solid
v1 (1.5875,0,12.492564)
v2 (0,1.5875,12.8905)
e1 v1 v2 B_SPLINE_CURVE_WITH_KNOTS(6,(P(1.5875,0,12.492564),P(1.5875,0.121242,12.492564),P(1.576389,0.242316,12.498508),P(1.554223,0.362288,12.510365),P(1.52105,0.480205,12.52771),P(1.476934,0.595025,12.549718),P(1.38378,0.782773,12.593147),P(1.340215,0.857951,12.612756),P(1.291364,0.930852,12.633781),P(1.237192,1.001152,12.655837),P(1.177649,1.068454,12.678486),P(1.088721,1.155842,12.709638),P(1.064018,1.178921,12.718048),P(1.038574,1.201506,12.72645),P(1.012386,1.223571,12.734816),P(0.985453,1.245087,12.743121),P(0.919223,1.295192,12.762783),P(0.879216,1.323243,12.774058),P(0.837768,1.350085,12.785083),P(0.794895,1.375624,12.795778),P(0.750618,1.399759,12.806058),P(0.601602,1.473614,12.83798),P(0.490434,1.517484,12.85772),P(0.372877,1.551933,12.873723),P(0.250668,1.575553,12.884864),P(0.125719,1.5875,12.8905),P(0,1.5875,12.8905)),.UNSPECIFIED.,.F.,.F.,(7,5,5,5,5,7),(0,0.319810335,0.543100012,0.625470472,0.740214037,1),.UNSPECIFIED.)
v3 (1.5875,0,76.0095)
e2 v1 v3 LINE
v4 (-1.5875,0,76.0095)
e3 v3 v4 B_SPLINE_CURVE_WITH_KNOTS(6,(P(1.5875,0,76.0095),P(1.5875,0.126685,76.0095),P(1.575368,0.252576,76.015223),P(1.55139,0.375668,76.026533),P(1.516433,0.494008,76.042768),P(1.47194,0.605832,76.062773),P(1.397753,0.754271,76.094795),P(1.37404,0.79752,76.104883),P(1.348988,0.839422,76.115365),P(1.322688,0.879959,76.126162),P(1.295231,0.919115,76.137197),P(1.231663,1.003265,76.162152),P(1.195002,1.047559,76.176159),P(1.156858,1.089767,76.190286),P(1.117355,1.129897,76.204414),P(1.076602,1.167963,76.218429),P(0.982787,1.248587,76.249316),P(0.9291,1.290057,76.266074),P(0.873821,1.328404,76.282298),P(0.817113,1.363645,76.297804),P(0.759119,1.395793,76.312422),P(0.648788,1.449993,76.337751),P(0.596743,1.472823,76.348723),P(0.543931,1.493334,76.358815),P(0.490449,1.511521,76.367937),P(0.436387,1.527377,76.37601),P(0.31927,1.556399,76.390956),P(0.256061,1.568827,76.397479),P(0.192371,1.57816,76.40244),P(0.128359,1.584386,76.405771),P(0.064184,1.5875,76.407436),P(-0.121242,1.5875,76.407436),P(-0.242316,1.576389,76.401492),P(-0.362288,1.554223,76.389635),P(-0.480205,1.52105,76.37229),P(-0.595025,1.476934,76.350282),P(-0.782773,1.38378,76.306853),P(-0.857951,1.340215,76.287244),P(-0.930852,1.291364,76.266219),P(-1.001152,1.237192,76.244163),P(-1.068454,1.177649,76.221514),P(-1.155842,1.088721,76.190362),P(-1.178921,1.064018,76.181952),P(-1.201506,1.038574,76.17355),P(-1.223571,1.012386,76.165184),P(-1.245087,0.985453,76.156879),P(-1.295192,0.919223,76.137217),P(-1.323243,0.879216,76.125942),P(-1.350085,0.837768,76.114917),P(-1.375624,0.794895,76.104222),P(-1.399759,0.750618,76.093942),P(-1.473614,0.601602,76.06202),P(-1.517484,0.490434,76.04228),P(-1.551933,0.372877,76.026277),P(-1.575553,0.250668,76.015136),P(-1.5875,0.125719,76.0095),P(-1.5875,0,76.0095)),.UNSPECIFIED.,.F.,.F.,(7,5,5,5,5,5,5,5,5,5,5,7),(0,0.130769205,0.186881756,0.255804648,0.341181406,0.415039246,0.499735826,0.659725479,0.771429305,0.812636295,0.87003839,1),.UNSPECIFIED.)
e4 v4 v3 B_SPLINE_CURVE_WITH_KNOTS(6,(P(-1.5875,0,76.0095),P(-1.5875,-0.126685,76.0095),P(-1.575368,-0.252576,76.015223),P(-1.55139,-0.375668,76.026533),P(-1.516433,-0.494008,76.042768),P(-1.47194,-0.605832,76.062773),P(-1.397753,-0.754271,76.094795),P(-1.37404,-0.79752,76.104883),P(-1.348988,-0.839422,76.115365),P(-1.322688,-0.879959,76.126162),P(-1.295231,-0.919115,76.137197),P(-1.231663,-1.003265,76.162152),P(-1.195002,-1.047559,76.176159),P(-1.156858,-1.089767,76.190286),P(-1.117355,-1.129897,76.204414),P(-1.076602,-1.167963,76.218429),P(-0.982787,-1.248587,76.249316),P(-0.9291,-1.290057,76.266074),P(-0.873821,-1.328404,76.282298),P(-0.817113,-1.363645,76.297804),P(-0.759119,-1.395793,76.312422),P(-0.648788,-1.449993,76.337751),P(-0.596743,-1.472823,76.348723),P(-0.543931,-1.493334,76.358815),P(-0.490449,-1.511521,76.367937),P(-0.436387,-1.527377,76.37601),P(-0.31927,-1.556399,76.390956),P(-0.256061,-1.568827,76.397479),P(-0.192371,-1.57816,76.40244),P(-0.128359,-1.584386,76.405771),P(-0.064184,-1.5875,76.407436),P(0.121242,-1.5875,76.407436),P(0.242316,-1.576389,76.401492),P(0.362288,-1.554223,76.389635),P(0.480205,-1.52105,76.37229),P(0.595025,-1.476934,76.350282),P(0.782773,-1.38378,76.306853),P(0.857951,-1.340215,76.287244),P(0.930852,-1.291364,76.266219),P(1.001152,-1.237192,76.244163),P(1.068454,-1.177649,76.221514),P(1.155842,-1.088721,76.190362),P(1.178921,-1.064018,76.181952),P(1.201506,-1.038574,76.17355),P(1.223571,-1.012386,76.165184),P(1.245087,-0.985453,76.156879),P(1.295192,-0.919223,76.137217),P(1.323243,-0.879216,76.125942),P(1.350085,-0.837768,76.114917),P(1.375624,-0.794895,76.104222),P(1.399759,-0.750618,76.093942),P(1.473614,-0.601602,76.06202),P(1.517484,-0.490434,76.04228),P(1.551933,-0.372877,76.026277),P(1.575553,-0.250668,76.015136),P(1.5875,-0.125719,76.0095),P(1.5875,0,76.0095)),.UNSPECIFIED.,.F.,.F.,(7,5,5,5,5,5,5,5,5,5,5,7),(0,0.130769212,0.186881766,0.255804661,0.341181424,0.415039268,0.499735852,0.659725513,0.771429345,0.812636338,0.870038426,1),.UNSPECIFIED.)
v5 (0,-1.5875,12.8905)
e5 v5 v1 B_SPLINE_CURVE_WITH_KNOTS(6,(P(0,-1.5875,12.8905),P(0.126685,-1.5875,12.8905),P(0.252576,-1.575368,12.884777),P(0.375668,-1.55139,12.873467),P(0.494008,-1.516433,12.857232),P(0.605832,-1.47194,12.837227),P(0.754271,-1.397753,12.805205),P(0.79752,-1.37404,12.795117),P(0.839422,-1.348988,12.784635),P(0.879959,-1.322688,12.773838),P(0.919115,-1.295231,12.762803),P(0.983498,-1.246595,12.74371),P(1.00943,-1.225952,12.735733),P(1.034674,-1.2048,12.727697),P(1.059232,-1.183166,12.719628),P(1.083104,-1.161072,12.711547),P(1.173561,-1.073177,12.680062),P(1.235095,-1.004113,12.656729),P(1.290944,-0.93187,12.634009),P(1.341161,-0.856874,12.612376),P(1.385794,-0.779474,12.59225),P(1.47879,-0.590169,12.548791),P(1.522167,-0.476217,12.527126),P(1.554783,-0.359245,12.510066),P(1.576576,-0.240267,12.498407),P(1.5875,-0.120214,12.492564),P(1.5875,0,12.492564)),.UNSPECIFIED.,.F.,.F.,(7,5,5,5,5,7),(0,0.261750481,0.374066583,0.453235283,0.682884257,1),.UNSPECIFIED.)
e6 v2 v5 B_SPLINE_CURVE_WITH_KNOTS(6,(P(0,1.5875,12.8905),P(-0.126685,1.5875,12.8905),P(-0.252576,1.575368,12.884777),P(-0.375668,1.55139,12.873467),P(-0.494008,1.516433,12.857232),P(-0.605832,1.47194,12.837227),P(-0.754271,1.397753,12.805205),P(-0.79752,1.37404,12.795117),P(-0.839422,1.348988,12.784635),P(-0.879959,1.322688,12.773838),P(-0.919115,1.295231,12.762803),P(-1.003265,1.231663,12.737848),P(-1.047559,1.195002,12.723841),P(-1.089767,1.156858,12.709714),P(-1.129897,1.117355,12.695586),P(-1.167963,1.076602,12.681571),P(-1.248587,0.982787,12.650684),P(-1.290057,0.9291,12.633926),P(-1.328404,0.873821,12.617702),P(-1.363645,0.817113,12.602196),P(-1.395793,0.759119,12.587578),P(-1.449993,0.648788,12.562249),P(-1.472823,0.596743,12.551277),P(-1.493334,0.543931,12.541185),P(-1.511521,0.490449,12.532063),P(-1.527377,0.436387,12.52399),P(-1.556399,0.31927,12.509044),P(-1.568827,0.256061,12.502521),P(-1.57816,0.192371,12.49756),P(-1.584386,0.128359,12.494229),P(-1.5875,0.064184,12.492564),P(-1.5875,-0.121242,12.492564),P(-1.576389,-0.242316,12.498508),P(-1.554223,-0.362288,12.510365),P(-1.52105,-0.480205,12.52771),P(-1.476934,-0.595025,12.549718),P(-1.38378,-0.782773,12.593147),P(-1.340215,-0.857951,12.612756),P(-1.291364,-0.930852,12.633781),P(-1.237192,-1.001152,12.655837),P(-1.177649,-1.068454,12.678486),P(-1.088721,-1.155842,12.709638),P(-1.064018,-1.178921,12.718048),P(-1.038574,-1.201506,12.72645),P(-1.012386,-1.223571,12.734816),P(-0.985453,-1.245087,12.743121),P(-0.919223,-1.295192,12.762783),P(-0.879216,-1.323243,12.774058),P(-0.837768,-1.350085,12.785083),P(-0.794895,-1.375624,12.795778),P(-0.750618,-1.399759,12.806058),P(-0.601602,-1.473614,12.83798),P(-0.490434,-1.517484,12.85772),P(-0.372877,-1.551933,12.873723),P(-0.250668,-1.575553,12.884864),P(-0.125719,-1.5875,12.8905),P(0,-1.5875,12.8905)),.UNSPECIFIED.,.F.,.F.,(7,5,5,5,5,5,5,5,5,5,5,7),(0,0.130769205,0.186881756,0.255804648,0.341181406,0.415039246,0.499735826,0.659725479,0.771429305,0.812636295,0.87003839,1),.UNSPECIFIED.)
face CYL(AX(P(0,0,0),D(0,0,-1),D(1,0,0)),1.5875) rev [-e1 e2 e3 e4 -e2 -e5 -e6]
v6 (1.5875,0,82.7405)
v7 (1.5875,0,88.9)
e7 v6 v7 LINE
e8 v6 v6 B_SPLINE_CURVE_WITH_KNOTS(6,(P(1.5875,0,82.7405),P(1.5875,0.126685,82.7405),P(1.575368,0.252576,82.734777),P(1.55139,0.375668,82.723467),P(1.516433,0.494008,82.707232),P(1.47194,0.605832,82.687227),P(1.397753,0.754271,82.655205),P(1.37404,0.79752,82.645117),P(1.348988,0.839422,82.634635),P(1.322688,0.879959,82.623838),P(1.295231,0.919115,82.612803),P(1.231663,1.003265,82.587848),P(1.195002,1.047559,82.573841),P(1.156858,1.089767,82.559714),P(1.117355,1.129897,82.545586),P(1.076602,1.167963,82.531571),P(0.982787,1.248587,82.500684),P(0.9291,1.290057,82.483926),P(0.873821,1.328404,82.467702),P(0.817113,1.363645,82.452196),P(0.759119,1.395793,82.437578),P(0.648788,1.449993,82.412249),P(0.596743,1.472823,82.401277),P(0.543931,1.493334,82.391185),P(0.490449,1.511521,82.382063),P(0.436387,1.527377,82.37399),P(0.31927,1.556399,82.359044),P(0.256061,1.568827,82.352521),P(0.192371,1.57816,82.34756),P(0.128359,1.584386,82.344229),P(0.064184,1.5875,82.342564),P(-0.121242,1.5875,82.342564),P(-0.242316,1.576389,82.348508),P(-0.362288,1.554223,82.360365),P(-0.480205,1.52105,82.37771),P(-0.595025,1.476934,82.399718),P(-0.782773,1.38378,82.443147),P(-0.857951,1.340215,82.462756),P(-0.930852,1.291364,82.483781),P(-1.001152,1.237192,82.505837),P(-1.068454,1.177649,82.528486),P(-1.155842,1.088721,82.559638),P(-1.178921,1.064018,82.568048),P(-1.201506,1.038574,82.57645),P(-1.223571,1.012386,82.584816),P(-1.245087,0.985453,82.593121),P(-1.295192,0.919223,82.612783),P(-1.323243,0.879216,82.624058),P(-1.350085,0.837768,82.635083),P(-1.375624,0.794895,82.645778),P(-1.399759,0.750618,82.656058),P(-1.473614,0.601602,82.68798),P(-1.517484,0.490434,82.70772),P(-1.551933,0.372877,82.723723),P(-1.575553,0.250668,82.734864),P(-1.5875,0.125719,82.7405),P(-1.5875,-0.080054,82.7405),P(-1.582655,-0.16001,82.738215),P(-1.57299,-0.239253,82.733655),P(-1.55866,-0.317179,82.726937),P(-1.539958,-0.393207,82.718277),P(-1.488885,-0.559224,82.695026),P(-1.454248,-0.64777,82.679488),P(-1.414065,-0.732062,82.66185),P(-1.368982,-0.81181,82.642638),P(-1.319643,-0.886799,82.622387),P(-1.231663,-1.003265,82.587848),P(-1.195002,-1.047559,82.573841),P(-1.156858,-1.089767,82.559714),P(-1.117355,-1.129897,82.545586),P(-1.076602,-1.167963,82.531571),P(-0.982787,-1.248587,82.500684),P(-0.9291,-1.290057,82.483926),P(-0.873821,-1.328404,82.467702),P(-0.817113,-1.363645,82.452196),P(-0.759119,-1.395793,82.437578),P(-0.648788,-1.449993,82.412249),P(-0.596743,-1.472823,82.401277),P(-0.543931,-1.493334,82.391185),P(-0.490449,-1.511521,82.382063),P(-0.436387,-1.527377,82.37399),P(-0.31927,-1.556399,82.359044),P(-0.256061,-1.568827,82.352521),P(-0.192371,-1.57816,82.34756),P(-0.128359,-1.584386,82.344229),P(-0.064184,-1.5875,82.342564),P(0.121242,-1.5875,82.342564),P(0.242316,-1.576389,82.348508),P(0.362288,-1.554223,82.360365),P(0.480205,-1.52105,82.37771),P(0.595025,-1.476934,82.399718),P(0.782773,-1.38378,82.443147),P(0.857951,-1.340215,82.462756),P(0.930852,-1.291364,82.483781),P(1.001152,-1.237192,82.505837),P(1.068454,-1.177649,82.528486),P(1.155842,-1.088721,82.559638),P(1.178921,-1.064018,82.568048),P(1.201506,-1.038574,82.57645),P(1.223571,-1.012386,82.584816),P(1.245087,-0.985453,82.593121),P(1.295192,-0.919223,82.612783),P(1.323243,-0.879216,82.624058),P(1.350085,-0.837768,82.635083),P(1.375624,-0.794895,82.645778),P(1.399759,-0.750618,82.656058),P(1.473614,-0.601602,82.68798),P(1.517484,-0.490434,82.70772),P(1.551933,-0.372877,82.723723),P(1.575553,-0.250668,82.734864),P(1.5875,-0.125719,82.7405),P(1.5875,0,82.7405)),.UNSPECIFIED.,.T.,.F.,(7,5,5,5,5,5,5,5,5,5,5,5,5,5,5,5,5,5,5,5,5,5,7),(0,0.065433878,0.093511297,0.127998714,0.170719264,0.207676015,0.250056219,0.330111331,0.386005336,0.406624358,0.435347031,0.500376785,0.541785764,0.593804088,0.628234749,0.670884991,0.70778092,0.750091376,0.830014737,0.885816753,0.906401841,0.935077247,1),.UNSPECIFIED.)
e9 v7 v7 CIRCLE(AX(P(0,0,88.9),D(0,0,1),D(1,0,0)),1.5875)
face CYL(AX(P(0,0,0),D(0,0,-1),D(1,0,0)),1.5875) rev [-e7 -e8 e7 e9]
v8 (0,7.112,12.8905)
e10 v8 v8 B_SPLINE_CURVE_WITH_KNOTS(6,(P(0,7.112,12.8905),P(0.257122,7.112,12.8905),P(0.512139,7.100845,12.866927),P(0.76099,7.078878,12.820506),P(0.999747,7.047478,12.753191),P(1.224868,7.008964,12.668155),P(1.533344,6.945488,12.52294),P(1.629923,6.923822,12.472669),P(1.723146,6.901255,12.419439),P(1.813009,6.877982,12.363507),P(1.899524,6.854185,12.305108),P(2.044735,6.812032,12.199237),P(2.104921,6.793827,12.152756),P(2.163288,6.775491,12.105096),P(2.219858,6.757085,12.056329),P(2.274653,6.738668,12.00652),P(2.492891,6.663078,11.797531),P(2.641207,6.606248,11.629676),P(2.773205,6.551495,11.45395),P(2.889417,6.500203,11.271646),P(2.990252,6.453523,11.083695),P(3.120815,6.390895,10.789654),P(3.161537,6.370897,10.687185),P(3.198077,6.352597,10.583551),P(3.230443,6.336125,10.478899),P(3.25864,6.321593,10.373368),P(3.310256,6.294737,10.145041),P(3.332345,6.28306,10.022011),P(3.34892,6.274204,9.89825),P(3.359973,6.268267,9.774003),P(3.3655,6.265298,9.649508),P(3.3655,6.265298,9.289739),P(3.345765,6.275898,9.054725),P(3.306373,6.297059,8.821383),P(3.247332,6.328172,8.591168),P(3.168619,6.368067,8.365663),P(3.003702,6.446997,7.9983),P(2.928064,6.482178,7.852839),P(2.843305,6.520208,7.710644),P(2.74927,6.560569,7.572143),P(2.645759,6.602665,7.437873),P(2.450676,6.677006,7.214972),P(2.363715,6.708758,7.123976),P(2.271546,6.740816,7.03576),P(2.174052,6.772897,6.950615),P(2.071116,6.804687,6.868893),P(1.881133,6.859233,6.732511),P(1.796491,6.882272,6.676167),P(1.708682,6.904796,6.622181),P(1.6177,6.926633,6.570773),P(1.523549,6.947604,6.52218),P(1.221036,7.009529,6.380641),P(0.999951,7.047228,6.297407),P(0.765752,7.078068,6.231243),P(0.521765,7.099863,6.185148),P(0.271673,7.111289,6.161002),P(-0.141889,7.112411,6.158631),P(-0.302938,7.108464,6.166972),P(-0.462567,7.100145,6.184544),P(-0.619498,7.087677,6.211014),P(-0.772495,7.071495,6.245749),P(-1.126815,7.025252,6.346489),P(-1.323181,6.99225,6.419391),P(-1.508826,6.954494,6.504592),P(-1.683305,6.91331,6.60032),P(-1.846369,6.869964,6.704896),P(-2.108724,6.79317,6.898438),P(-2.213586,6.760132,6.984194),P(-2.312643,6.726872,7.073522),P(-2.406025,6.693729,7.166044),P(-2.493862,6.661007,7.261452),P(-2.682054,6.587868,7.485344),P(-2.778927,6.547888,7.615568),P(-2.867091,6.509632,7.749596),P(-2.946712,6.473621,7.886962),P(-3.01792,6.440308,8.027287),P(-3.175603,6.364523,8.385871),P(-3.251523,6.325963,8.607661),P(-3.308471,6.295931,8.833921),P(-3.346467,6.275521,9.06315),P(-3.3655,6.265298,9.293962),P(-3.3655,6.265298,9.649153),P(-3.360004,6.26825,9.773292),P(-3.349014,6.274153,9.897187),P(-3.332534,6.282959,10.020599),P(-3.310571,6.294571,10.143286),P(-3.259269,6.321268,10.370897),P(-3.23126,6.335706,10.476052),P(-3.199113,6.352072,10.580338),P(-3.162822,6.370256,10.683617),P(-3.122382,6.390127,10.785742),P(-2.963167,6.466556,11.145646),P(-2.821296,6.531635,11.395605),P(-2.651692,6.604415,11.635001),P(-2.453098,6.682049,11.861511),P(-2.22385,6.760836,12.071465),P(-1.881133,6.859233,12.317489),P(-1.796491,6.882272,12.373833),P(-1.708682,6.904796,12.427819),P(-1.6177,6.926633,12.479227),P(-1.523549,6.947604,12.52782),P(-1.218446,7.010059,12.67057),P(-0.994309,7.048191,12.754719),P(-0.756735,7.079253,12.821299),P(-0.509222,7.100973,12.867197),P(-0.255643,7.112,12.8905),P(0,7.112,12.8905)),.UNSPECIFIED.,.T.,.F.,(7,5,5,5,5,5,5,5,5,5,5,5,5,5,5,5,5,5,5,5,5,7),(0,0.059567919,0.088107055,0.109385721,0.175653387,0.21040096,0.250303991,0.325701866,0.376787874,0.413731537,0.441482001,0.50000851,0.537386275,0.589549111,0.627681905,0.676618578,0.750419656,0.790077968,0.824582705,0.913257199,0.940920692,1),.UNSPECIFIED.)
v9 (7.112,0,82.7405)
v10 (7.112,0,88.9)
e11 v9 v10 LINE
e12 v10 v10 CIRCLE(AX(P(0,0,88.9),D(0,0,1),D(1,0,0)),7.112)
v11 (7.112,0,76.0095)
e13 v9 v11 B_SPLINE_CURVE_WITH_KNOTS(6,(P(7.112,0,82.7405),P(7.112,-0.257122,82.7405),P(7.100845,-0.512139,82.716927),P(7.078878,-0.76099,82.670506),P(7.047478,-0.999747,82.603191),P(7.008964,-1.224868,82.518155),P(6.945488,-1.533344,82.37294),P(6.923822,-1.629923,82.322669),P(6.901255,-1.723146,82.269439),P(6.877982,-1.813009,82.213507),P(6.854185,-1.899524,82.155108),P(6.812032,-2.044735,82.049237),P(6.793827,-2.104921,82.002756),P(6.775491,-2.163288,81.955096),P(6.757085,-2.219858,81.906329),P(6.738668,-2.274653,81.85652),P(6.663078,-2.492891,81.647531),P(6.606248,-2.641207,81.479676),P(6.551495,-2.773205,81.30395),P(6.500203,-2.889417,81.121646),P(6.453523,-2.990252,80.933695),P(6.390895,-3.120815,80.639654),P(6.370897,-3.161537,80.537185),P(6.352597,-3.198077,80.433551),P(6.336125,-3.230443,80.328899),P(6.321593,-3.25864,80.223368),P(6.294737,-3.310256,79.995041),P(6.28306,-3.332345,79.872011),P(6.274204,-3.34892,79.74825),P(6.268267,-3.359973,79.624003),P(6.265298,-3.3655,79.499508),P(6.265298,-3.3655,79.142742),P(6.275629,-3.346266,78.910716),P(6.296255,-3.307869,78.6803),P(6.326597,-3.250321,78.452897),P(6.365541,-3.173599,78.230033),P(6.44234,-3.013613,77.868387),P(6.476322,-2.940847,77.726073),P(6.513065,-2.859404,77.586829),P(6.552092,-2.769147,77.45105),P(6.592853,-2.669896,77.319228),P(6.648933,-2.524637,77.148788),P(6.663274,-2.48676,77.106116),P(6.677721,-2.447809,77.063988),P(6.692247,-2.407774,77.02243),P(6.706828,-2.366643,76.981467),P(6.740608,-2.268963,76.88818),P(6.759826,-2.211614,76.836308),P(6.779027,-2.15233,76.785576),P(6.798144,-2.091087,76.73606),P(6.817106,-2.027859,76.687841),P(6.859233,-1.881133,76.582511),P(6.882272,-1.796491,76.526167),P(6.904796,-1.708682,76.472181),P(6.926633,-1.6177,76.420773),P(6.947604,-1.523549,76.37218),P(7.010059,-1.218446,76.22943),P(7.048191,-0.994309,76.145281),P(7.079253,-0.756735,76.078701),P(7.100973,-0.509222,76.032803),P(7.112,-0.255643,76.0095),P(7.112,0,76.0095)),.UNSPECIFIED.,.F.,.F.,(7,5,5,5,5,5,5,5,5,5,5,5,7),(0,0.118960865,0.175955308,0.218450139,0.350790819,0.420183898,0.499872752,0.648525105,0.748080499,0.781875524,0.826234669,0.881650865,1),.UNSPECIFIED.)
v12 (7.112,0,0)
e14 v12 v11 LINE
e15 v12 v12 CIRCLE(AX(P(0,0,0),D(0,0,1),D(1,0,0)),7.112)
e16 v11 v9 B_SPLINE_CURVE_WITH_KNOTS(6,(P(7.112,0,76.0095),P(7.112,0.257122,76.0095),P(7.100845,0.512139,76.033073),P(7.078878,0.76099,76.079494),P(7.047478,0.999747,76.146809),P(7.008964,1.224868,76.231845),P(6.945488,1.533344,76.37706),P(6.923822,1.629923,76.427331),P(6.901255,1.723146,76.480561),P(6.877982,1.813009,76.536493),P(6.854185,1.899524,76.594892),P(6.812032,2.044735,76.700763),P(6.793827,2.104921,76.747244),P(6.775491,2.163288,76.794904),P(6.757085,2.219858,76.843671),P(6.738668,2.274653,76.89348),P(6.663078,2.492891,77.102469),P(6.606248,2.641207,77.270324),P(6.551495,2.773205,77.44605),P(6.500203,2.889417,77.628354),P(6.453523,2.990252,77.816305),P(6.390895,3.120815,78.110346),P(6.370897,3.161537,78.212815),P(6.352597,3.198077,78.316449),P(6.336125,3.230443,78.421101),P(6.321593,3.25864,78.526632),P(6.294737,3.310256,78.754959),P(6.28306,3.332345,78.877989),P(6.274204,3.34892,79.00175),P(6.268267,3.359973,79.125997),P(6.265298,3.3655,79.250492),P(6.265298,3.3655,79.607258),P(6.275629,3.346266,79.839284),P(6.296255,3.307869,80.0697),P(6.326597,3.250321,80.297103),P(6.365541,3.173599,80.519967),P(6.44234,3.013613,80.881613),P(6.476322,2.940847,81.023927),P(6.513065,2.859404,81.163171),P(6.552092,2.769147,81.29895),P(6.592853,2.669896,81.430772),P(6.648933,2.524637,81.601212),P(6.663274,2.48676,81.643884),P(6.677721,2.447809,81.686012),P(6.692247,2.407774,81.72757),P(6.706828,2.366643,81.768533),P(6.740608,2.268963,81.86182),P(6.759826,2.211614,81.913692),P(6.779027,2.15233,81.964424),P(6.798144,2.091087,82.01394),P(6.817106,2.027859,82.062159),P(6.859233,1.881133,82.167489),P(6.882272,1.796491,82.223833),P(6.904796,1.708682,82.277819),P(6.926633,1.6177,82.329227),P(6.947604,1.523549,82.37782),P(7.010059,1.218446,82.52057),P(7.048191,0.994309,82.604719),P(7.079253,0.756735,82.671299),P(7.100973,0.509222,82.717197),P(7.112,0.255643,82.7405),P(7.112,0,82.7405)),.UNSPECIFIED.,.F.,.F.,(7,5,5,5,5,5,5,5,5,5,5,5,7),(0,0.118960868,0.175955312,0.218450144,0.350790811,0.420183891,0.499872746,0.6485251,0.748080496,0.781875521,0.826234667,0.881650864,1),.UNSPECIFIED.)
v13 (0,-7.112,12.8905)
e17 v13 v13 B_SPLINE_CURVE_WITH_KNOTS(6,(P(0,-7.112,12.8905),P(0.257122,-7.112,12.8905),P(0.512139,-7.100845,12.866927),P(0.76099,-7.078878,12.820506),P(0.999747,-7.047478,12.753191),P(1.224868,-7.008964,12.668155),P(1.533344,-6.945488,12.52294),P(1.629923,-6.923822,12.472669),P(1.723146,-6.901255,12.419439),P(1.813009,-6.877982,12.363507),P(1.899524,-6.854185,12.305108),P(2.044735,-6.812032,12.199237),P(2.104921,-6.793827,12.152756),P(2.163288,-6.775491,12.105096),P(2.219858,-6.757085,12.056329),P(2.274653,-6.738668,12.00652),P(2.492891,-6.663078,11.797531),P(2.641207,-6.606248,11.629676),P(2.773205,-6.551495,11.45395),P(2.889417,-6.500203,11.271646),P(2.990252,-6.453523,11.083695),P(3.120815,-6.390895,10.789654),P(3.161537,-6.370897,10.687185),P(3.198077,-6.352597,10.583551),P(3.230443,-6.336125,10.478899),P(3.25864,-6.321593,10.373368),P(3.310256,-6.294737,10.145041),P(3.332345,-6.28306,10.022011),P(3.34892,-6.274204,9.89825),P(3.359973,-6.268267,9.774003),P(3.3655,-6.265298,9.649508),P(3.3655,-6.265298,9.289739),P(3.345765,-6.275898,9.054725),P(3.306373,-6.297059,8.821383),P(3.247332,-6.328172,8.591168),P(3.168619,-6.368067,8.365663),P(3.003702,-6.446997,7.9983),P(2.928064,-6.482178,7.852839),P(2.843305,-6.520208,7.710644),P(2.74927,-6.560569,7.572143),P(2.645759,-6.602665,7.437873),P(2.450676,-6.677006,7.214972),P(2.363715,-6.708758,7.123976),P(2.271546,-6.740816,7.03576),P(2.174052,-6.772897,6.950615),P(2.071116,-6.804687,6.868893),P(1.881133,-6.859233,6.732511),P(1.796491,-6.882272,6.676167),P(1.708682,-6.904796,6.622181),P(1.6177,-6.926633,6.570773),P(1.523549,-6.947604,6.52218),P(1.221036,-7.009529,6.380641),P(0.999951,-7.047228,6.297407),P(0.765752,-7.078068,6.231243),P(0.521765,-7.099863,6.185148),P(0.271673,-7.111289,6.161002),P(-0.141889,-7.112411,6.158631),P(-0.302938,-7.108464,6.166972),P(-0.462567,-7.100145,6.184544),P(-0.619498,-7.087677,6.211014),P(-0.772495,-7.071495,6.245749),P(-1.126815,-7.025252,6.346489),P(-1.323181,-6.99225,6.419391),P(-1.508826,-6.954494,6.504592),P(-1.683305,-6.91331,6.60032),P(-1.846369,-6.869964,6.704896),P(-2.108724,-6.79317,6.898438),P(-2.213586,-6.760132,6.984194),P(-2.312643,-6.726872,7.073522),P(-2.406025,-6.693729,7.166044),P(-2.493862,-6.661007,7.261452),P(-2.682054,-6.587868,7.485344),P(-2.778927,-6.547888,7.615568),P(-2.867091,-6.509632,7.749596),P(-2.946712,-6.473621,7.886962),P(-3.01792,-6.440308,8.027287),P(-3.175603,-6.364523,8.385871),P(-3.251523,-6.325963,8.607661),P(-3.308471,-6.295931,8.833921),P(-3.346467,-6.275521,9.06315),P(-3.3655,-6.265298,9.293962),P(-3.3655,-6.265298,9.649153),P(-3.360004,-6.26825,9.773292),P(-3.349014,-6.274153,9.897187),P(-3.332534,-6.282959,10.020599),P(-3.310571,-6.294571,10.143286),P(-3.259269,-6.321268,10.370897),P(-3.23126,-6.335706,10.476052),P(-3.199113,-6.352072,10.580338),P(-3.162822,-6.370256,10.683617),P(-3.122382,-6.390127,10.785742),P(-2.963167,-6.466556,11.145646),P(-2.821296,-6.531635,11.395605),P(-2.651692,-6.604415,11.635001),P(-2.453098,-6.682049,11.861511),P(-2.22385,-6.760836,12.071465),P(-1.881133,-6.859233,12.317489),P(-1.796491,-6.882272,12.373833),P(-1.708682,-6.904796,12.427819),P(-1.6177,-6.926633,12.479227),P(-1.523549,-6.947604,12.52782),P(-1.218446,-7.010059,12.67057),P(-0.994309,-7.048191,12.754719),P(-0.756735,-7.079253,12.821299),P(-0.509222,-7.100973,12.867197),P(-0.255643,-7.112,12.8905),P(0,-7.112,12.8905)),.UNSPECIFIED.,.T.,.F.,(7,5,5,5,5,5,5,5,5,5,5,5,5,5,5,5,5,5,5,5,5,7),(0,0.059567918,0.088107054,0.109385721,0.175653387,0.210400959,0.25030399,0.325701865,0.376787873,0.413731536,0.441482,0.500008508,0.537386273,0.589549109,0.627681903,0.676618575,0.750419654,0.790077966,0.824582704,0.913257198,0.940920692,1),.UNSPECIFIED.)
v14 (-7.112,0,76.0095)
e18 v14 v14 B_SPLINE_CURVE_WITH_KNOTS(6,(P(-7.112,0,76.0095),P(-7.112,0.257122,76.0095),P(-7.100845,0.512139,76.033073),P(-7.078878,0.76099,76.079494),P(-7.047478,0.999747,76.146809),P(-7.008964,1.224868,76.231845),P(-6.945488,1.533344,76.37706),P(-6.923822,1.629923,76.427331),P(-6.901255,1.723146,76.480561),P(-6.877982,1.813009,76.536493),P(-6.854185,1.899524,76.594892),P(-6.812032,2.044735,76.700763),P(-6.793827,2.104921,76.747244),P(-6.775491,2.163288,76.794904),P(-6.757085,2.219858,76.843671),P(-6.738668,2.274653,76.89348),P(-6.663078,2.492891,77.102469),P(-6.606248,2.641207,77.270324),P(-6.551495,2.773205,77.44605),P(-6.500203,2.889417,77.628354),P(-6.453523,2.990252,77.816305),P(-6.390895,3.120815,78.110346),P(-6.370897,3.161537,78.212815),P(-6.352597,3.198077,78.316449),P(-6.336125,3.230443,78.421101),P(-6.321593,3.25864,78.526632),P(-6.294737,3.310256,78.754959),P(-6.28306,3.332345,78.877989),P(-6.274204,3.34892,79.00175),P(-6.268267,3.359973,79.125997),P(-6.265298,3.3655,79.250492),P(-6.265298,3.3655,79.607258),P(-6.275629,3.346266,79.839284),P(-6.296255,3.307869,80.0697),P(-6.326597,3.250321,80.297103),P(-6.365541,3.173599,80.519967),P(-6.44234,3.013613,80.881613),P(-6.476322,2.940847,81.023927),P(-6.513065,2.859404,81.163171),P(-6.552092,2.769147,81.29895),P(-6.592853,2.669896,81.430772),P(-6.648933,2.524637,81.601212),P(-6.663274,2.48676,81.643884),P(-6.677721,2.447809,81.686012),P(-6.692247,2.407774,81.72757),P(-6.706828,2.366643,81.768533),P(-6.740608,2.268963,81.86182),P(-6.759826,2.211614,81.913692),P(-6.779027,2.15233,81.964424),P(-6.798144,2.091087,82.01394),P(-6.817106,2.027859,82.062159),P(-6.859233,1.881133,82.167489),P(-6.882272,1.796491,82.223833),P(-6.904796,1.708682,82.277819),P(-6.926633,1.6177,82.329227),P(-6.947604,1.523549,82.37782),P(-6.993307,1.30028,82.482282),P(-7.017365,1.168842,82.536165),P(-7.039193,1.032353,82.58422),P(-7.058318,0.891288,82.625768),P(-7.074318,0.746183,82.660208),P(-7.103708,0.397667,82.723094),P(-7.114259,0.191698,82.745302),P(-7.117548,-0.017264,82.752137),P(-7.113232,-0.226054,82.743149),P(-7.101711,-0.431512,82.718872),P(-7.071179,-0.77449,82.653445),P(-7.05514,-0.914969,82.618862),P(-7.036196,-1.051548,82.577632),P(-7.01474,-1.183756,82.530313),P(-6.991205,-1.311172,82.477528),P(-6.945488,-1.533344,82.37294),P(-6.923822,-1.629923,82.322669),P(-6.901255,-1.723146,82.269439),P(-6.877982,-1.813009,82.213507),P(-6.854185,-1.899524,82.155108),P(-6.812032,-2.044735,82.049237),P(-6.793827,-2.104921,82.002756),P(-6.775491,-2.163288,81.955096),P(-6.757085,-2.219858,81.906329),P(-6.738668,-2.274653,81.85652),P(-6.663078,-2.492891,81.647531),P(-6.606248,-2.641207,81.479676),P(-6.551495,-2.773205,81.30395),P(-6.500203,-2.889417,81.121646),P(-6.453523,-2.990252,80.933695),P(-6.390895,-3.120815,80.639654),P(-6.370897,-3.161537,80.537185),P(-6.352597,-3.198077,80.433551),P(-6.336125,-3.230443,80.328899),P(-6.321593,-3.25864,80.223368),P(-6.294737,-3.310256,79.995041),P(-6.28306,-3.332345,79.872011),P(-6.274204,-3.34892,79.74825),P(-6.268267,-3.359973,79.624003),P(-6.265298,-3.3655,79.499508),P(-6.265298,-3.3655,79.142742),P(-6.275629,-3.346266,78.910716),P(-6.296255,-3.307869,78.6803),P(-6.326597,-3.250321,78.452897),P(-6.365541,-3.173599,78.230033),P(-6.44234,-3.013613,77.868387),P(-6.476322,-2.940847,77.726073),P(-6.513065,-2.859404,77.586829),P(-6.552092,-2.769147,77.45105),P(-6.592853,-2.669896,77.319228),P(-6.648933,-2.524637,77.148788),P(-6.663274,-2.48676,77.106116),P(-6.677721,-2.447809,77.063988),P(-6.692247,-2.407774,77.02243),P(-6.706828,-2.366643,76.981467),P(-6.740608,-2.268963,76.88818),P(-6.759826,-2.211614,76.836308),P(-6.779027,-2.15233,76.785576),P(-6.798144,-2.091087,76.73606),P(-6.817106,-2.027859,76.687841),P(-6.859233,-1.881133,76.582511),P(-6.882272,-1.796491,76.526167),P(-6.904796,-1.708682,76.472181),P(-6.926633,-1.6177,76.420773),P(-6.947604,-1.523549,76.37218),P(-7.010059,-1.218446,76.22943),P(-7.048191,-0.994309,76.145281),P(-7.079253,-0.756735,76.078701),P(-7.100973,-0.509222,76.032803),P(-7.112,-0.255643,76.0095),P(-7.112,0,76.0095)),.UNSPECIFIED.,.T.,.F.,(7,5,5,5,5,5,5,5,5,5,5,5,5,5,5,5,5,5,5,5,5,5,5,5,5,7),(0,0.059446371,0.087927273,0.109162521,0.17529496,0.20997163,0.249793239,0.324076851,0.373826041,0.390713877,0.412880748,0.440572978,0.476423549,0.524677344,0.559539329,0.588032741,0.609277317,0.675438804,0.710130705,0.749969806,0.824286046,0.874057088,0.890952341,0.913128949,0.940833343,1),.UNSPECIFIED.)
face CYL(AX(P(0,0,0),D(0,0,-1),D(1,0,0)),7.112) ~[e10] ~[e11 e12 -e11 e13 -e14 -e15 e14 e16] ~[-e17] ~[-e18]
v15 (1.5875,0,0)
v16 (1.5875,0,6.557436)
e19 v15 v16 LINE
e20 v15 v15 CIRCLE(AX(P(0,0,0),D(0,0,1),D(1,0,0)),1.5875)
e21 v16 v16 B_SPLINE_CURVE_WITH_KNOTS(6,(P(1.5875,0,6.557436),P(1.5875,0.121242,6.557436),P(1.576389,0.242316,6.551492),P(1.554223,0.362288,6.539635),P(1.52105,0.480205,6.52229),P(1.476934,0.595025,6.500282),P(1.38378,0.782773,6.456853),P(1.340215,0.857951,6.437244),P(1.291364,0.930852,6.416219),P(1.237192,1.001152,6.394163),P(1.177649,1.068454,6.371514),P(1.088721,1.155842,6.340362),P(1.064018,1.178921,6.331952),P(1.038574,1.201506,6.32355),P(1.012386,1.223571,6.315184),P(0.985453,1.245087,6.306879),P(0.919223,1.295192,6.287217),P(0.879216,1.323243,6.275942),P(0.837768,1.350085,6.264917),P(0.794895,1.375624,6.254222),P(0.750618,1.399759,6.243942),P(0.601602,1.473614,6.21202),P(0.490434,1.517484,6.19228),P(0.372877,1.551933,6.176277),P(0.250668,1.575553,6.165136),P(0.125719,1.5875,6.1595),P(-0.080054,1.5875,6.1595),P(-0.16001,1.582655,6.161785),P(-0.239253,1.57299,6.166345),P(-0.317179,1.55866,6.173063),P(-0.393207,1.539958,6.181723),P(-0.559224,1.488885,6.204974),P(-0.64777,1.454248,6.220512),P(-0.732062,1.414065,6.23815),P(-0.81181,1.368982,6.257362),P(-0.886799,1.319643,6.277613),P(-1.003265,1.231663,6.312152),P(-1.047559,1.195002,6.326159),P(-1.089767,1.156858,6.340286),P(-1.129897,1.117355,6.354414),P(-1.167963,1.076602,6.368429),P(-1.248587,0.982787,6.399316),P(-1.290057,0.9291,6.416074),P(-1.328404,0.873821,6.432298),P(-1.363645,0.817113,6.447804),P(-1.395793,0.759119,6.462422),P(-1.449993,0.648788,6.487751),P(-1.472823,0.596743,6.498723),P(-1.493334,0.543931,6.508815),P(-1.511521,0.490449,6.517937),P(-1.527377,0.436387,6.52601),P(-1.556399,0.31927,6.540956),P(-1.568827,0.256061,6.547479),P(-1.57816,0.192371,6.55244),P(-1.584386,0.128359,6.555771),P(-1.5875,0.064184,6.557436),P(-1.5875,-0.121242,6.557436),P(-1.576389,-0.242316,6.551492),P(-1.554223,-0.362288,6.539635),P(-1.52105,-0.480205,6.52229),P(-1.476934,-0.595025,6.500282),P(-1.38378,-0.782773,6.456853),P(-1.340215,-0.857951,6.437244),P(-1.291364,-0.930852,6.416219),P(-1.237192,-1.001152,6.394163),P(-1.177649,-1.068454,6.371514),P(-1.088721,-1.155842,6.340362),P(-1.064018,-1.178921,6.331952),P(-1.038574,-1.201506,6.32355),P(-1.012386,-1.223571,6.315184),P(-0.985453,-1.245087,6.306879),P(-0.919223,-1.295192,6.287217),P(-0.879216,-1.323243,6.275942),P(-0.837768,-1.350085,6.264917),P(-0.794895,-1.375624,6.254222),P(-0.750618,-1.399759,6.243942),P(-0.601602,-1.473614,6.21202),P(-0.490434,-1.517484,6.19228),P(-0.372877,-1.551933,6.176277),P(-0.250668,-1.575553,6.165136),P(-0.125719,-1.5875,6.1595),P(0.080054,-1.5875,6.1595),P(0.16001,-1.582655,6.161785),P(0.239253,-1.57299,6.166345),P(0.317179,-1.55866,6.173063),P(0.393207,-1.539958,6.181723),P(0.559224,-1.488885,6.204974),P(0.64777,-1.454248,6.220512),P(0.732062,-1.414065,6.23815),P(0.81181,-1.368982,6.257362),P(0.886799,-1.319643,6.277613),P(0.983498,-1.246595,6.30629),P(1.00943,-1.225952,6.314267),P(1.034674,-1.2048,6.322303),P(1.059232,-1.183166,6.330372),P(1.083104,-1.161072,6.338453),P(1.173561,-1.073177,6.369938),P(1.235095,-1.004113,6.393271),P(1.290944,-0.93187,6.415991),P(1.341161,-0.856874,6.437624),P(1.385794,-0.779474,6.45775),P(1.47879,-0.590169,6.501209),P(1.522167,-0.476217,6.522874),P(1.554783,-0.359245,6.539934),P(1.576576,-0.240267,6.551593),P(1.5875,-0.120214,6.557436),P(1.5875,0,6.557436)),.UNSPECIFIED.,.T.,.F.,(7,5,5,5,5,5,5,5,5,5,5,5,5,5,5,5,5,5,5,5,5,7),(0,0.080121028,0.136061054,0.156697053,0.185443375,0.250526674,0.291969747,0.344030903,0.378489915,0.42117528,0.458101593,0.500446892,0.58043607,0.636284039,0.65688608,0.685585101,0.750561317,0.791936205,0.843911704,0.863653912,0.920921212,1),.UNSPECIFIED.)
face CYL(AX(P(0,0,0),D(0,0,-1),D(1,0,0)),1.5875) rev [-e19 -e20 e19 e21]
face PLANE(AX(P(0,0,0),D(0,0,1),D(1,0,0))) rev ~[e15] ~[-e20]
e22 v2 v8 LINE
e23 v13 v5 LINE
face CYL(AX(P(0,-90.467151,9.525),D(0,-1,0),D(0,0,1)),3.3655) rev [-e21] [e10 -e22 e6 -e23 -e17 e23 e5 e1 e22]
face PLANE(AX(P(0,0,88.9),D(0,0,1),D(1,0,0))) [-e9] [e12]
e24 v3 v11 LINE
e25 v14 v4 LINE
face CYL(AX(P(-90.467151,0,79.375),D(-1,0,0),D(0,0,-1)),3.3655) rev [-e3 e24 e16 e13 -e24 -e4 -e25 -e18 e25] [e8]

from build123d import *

# Parameters (mm, degrees)
SKETCH1_R               = 7.112
SKETCH1_R_2             = 1.5875
BOSS_EXTRUDE1_DEPTH     = 88.9
CUT_EXTRUDE2_DEPTH      = 90.467150888
CUT_EXTRUDE2_DEPTH_BACK = 90.467150888
SKETCH7_R               = 3.3655
CUT_EXTRUDE3_DEPTH      = 90.467151003
CUT_EXTRUDE3_DEPTH_BACK = 90.467151003
SKETCH8_R               = 3.3655


with BuildPart() as part:
    # Sketch1 → Boss-Extrude1 (new body)
    with BuildSketch(Plane.XY):
        Circle(SKETCH1_R)
        Circle(SKETCH1_R_2, mode=Mode.SUBTRACT)
    extrude(amount=BOSS_EXTRUDE1_DEPTH)

    # Sketch7 → Cut-Extrude2 (cut, two sides: drawn at the far end of the back side and taken through both)
    with BuildSketch(Plane(origin=(0, 0, 0), x_dir=(1, 0, 0), z_dir=(0, 1, 0)).offset(-CUT_EXTRUDE2_DEPTH_BACK)):
        with Locations(Location((0, -9.525, 0), (0, 0, 270))):
            Circle(SKETCH7_R)
    extrude(amount=CUT_EXTRUDE2_DEPTH + CUT_EXTRUDE2_DEPTH_BACK, mode=Mode.SUBTRACT)

    # Sketch8 → Cut-Extrude3 (cut, two sides: drawn at the far end of the back side and taken through both)
    with BuildSketch(Plane(origin=(0, 0, 0), x_dir=(0, 0, -1), z_dir=(1, 0, 0)).offset(-CUT_EXTRUDE3_DEPTH_BACK)):
        with Locations((-79.375, 0)):
            Circle(SKETCH8_R)
    extrude(amount=CUT_EXTRUDE3_DEPTH + CUT_EXTRUDE3_DEPTH_BACK, mode=Mode.SUBTRACT)


solid = part.part
